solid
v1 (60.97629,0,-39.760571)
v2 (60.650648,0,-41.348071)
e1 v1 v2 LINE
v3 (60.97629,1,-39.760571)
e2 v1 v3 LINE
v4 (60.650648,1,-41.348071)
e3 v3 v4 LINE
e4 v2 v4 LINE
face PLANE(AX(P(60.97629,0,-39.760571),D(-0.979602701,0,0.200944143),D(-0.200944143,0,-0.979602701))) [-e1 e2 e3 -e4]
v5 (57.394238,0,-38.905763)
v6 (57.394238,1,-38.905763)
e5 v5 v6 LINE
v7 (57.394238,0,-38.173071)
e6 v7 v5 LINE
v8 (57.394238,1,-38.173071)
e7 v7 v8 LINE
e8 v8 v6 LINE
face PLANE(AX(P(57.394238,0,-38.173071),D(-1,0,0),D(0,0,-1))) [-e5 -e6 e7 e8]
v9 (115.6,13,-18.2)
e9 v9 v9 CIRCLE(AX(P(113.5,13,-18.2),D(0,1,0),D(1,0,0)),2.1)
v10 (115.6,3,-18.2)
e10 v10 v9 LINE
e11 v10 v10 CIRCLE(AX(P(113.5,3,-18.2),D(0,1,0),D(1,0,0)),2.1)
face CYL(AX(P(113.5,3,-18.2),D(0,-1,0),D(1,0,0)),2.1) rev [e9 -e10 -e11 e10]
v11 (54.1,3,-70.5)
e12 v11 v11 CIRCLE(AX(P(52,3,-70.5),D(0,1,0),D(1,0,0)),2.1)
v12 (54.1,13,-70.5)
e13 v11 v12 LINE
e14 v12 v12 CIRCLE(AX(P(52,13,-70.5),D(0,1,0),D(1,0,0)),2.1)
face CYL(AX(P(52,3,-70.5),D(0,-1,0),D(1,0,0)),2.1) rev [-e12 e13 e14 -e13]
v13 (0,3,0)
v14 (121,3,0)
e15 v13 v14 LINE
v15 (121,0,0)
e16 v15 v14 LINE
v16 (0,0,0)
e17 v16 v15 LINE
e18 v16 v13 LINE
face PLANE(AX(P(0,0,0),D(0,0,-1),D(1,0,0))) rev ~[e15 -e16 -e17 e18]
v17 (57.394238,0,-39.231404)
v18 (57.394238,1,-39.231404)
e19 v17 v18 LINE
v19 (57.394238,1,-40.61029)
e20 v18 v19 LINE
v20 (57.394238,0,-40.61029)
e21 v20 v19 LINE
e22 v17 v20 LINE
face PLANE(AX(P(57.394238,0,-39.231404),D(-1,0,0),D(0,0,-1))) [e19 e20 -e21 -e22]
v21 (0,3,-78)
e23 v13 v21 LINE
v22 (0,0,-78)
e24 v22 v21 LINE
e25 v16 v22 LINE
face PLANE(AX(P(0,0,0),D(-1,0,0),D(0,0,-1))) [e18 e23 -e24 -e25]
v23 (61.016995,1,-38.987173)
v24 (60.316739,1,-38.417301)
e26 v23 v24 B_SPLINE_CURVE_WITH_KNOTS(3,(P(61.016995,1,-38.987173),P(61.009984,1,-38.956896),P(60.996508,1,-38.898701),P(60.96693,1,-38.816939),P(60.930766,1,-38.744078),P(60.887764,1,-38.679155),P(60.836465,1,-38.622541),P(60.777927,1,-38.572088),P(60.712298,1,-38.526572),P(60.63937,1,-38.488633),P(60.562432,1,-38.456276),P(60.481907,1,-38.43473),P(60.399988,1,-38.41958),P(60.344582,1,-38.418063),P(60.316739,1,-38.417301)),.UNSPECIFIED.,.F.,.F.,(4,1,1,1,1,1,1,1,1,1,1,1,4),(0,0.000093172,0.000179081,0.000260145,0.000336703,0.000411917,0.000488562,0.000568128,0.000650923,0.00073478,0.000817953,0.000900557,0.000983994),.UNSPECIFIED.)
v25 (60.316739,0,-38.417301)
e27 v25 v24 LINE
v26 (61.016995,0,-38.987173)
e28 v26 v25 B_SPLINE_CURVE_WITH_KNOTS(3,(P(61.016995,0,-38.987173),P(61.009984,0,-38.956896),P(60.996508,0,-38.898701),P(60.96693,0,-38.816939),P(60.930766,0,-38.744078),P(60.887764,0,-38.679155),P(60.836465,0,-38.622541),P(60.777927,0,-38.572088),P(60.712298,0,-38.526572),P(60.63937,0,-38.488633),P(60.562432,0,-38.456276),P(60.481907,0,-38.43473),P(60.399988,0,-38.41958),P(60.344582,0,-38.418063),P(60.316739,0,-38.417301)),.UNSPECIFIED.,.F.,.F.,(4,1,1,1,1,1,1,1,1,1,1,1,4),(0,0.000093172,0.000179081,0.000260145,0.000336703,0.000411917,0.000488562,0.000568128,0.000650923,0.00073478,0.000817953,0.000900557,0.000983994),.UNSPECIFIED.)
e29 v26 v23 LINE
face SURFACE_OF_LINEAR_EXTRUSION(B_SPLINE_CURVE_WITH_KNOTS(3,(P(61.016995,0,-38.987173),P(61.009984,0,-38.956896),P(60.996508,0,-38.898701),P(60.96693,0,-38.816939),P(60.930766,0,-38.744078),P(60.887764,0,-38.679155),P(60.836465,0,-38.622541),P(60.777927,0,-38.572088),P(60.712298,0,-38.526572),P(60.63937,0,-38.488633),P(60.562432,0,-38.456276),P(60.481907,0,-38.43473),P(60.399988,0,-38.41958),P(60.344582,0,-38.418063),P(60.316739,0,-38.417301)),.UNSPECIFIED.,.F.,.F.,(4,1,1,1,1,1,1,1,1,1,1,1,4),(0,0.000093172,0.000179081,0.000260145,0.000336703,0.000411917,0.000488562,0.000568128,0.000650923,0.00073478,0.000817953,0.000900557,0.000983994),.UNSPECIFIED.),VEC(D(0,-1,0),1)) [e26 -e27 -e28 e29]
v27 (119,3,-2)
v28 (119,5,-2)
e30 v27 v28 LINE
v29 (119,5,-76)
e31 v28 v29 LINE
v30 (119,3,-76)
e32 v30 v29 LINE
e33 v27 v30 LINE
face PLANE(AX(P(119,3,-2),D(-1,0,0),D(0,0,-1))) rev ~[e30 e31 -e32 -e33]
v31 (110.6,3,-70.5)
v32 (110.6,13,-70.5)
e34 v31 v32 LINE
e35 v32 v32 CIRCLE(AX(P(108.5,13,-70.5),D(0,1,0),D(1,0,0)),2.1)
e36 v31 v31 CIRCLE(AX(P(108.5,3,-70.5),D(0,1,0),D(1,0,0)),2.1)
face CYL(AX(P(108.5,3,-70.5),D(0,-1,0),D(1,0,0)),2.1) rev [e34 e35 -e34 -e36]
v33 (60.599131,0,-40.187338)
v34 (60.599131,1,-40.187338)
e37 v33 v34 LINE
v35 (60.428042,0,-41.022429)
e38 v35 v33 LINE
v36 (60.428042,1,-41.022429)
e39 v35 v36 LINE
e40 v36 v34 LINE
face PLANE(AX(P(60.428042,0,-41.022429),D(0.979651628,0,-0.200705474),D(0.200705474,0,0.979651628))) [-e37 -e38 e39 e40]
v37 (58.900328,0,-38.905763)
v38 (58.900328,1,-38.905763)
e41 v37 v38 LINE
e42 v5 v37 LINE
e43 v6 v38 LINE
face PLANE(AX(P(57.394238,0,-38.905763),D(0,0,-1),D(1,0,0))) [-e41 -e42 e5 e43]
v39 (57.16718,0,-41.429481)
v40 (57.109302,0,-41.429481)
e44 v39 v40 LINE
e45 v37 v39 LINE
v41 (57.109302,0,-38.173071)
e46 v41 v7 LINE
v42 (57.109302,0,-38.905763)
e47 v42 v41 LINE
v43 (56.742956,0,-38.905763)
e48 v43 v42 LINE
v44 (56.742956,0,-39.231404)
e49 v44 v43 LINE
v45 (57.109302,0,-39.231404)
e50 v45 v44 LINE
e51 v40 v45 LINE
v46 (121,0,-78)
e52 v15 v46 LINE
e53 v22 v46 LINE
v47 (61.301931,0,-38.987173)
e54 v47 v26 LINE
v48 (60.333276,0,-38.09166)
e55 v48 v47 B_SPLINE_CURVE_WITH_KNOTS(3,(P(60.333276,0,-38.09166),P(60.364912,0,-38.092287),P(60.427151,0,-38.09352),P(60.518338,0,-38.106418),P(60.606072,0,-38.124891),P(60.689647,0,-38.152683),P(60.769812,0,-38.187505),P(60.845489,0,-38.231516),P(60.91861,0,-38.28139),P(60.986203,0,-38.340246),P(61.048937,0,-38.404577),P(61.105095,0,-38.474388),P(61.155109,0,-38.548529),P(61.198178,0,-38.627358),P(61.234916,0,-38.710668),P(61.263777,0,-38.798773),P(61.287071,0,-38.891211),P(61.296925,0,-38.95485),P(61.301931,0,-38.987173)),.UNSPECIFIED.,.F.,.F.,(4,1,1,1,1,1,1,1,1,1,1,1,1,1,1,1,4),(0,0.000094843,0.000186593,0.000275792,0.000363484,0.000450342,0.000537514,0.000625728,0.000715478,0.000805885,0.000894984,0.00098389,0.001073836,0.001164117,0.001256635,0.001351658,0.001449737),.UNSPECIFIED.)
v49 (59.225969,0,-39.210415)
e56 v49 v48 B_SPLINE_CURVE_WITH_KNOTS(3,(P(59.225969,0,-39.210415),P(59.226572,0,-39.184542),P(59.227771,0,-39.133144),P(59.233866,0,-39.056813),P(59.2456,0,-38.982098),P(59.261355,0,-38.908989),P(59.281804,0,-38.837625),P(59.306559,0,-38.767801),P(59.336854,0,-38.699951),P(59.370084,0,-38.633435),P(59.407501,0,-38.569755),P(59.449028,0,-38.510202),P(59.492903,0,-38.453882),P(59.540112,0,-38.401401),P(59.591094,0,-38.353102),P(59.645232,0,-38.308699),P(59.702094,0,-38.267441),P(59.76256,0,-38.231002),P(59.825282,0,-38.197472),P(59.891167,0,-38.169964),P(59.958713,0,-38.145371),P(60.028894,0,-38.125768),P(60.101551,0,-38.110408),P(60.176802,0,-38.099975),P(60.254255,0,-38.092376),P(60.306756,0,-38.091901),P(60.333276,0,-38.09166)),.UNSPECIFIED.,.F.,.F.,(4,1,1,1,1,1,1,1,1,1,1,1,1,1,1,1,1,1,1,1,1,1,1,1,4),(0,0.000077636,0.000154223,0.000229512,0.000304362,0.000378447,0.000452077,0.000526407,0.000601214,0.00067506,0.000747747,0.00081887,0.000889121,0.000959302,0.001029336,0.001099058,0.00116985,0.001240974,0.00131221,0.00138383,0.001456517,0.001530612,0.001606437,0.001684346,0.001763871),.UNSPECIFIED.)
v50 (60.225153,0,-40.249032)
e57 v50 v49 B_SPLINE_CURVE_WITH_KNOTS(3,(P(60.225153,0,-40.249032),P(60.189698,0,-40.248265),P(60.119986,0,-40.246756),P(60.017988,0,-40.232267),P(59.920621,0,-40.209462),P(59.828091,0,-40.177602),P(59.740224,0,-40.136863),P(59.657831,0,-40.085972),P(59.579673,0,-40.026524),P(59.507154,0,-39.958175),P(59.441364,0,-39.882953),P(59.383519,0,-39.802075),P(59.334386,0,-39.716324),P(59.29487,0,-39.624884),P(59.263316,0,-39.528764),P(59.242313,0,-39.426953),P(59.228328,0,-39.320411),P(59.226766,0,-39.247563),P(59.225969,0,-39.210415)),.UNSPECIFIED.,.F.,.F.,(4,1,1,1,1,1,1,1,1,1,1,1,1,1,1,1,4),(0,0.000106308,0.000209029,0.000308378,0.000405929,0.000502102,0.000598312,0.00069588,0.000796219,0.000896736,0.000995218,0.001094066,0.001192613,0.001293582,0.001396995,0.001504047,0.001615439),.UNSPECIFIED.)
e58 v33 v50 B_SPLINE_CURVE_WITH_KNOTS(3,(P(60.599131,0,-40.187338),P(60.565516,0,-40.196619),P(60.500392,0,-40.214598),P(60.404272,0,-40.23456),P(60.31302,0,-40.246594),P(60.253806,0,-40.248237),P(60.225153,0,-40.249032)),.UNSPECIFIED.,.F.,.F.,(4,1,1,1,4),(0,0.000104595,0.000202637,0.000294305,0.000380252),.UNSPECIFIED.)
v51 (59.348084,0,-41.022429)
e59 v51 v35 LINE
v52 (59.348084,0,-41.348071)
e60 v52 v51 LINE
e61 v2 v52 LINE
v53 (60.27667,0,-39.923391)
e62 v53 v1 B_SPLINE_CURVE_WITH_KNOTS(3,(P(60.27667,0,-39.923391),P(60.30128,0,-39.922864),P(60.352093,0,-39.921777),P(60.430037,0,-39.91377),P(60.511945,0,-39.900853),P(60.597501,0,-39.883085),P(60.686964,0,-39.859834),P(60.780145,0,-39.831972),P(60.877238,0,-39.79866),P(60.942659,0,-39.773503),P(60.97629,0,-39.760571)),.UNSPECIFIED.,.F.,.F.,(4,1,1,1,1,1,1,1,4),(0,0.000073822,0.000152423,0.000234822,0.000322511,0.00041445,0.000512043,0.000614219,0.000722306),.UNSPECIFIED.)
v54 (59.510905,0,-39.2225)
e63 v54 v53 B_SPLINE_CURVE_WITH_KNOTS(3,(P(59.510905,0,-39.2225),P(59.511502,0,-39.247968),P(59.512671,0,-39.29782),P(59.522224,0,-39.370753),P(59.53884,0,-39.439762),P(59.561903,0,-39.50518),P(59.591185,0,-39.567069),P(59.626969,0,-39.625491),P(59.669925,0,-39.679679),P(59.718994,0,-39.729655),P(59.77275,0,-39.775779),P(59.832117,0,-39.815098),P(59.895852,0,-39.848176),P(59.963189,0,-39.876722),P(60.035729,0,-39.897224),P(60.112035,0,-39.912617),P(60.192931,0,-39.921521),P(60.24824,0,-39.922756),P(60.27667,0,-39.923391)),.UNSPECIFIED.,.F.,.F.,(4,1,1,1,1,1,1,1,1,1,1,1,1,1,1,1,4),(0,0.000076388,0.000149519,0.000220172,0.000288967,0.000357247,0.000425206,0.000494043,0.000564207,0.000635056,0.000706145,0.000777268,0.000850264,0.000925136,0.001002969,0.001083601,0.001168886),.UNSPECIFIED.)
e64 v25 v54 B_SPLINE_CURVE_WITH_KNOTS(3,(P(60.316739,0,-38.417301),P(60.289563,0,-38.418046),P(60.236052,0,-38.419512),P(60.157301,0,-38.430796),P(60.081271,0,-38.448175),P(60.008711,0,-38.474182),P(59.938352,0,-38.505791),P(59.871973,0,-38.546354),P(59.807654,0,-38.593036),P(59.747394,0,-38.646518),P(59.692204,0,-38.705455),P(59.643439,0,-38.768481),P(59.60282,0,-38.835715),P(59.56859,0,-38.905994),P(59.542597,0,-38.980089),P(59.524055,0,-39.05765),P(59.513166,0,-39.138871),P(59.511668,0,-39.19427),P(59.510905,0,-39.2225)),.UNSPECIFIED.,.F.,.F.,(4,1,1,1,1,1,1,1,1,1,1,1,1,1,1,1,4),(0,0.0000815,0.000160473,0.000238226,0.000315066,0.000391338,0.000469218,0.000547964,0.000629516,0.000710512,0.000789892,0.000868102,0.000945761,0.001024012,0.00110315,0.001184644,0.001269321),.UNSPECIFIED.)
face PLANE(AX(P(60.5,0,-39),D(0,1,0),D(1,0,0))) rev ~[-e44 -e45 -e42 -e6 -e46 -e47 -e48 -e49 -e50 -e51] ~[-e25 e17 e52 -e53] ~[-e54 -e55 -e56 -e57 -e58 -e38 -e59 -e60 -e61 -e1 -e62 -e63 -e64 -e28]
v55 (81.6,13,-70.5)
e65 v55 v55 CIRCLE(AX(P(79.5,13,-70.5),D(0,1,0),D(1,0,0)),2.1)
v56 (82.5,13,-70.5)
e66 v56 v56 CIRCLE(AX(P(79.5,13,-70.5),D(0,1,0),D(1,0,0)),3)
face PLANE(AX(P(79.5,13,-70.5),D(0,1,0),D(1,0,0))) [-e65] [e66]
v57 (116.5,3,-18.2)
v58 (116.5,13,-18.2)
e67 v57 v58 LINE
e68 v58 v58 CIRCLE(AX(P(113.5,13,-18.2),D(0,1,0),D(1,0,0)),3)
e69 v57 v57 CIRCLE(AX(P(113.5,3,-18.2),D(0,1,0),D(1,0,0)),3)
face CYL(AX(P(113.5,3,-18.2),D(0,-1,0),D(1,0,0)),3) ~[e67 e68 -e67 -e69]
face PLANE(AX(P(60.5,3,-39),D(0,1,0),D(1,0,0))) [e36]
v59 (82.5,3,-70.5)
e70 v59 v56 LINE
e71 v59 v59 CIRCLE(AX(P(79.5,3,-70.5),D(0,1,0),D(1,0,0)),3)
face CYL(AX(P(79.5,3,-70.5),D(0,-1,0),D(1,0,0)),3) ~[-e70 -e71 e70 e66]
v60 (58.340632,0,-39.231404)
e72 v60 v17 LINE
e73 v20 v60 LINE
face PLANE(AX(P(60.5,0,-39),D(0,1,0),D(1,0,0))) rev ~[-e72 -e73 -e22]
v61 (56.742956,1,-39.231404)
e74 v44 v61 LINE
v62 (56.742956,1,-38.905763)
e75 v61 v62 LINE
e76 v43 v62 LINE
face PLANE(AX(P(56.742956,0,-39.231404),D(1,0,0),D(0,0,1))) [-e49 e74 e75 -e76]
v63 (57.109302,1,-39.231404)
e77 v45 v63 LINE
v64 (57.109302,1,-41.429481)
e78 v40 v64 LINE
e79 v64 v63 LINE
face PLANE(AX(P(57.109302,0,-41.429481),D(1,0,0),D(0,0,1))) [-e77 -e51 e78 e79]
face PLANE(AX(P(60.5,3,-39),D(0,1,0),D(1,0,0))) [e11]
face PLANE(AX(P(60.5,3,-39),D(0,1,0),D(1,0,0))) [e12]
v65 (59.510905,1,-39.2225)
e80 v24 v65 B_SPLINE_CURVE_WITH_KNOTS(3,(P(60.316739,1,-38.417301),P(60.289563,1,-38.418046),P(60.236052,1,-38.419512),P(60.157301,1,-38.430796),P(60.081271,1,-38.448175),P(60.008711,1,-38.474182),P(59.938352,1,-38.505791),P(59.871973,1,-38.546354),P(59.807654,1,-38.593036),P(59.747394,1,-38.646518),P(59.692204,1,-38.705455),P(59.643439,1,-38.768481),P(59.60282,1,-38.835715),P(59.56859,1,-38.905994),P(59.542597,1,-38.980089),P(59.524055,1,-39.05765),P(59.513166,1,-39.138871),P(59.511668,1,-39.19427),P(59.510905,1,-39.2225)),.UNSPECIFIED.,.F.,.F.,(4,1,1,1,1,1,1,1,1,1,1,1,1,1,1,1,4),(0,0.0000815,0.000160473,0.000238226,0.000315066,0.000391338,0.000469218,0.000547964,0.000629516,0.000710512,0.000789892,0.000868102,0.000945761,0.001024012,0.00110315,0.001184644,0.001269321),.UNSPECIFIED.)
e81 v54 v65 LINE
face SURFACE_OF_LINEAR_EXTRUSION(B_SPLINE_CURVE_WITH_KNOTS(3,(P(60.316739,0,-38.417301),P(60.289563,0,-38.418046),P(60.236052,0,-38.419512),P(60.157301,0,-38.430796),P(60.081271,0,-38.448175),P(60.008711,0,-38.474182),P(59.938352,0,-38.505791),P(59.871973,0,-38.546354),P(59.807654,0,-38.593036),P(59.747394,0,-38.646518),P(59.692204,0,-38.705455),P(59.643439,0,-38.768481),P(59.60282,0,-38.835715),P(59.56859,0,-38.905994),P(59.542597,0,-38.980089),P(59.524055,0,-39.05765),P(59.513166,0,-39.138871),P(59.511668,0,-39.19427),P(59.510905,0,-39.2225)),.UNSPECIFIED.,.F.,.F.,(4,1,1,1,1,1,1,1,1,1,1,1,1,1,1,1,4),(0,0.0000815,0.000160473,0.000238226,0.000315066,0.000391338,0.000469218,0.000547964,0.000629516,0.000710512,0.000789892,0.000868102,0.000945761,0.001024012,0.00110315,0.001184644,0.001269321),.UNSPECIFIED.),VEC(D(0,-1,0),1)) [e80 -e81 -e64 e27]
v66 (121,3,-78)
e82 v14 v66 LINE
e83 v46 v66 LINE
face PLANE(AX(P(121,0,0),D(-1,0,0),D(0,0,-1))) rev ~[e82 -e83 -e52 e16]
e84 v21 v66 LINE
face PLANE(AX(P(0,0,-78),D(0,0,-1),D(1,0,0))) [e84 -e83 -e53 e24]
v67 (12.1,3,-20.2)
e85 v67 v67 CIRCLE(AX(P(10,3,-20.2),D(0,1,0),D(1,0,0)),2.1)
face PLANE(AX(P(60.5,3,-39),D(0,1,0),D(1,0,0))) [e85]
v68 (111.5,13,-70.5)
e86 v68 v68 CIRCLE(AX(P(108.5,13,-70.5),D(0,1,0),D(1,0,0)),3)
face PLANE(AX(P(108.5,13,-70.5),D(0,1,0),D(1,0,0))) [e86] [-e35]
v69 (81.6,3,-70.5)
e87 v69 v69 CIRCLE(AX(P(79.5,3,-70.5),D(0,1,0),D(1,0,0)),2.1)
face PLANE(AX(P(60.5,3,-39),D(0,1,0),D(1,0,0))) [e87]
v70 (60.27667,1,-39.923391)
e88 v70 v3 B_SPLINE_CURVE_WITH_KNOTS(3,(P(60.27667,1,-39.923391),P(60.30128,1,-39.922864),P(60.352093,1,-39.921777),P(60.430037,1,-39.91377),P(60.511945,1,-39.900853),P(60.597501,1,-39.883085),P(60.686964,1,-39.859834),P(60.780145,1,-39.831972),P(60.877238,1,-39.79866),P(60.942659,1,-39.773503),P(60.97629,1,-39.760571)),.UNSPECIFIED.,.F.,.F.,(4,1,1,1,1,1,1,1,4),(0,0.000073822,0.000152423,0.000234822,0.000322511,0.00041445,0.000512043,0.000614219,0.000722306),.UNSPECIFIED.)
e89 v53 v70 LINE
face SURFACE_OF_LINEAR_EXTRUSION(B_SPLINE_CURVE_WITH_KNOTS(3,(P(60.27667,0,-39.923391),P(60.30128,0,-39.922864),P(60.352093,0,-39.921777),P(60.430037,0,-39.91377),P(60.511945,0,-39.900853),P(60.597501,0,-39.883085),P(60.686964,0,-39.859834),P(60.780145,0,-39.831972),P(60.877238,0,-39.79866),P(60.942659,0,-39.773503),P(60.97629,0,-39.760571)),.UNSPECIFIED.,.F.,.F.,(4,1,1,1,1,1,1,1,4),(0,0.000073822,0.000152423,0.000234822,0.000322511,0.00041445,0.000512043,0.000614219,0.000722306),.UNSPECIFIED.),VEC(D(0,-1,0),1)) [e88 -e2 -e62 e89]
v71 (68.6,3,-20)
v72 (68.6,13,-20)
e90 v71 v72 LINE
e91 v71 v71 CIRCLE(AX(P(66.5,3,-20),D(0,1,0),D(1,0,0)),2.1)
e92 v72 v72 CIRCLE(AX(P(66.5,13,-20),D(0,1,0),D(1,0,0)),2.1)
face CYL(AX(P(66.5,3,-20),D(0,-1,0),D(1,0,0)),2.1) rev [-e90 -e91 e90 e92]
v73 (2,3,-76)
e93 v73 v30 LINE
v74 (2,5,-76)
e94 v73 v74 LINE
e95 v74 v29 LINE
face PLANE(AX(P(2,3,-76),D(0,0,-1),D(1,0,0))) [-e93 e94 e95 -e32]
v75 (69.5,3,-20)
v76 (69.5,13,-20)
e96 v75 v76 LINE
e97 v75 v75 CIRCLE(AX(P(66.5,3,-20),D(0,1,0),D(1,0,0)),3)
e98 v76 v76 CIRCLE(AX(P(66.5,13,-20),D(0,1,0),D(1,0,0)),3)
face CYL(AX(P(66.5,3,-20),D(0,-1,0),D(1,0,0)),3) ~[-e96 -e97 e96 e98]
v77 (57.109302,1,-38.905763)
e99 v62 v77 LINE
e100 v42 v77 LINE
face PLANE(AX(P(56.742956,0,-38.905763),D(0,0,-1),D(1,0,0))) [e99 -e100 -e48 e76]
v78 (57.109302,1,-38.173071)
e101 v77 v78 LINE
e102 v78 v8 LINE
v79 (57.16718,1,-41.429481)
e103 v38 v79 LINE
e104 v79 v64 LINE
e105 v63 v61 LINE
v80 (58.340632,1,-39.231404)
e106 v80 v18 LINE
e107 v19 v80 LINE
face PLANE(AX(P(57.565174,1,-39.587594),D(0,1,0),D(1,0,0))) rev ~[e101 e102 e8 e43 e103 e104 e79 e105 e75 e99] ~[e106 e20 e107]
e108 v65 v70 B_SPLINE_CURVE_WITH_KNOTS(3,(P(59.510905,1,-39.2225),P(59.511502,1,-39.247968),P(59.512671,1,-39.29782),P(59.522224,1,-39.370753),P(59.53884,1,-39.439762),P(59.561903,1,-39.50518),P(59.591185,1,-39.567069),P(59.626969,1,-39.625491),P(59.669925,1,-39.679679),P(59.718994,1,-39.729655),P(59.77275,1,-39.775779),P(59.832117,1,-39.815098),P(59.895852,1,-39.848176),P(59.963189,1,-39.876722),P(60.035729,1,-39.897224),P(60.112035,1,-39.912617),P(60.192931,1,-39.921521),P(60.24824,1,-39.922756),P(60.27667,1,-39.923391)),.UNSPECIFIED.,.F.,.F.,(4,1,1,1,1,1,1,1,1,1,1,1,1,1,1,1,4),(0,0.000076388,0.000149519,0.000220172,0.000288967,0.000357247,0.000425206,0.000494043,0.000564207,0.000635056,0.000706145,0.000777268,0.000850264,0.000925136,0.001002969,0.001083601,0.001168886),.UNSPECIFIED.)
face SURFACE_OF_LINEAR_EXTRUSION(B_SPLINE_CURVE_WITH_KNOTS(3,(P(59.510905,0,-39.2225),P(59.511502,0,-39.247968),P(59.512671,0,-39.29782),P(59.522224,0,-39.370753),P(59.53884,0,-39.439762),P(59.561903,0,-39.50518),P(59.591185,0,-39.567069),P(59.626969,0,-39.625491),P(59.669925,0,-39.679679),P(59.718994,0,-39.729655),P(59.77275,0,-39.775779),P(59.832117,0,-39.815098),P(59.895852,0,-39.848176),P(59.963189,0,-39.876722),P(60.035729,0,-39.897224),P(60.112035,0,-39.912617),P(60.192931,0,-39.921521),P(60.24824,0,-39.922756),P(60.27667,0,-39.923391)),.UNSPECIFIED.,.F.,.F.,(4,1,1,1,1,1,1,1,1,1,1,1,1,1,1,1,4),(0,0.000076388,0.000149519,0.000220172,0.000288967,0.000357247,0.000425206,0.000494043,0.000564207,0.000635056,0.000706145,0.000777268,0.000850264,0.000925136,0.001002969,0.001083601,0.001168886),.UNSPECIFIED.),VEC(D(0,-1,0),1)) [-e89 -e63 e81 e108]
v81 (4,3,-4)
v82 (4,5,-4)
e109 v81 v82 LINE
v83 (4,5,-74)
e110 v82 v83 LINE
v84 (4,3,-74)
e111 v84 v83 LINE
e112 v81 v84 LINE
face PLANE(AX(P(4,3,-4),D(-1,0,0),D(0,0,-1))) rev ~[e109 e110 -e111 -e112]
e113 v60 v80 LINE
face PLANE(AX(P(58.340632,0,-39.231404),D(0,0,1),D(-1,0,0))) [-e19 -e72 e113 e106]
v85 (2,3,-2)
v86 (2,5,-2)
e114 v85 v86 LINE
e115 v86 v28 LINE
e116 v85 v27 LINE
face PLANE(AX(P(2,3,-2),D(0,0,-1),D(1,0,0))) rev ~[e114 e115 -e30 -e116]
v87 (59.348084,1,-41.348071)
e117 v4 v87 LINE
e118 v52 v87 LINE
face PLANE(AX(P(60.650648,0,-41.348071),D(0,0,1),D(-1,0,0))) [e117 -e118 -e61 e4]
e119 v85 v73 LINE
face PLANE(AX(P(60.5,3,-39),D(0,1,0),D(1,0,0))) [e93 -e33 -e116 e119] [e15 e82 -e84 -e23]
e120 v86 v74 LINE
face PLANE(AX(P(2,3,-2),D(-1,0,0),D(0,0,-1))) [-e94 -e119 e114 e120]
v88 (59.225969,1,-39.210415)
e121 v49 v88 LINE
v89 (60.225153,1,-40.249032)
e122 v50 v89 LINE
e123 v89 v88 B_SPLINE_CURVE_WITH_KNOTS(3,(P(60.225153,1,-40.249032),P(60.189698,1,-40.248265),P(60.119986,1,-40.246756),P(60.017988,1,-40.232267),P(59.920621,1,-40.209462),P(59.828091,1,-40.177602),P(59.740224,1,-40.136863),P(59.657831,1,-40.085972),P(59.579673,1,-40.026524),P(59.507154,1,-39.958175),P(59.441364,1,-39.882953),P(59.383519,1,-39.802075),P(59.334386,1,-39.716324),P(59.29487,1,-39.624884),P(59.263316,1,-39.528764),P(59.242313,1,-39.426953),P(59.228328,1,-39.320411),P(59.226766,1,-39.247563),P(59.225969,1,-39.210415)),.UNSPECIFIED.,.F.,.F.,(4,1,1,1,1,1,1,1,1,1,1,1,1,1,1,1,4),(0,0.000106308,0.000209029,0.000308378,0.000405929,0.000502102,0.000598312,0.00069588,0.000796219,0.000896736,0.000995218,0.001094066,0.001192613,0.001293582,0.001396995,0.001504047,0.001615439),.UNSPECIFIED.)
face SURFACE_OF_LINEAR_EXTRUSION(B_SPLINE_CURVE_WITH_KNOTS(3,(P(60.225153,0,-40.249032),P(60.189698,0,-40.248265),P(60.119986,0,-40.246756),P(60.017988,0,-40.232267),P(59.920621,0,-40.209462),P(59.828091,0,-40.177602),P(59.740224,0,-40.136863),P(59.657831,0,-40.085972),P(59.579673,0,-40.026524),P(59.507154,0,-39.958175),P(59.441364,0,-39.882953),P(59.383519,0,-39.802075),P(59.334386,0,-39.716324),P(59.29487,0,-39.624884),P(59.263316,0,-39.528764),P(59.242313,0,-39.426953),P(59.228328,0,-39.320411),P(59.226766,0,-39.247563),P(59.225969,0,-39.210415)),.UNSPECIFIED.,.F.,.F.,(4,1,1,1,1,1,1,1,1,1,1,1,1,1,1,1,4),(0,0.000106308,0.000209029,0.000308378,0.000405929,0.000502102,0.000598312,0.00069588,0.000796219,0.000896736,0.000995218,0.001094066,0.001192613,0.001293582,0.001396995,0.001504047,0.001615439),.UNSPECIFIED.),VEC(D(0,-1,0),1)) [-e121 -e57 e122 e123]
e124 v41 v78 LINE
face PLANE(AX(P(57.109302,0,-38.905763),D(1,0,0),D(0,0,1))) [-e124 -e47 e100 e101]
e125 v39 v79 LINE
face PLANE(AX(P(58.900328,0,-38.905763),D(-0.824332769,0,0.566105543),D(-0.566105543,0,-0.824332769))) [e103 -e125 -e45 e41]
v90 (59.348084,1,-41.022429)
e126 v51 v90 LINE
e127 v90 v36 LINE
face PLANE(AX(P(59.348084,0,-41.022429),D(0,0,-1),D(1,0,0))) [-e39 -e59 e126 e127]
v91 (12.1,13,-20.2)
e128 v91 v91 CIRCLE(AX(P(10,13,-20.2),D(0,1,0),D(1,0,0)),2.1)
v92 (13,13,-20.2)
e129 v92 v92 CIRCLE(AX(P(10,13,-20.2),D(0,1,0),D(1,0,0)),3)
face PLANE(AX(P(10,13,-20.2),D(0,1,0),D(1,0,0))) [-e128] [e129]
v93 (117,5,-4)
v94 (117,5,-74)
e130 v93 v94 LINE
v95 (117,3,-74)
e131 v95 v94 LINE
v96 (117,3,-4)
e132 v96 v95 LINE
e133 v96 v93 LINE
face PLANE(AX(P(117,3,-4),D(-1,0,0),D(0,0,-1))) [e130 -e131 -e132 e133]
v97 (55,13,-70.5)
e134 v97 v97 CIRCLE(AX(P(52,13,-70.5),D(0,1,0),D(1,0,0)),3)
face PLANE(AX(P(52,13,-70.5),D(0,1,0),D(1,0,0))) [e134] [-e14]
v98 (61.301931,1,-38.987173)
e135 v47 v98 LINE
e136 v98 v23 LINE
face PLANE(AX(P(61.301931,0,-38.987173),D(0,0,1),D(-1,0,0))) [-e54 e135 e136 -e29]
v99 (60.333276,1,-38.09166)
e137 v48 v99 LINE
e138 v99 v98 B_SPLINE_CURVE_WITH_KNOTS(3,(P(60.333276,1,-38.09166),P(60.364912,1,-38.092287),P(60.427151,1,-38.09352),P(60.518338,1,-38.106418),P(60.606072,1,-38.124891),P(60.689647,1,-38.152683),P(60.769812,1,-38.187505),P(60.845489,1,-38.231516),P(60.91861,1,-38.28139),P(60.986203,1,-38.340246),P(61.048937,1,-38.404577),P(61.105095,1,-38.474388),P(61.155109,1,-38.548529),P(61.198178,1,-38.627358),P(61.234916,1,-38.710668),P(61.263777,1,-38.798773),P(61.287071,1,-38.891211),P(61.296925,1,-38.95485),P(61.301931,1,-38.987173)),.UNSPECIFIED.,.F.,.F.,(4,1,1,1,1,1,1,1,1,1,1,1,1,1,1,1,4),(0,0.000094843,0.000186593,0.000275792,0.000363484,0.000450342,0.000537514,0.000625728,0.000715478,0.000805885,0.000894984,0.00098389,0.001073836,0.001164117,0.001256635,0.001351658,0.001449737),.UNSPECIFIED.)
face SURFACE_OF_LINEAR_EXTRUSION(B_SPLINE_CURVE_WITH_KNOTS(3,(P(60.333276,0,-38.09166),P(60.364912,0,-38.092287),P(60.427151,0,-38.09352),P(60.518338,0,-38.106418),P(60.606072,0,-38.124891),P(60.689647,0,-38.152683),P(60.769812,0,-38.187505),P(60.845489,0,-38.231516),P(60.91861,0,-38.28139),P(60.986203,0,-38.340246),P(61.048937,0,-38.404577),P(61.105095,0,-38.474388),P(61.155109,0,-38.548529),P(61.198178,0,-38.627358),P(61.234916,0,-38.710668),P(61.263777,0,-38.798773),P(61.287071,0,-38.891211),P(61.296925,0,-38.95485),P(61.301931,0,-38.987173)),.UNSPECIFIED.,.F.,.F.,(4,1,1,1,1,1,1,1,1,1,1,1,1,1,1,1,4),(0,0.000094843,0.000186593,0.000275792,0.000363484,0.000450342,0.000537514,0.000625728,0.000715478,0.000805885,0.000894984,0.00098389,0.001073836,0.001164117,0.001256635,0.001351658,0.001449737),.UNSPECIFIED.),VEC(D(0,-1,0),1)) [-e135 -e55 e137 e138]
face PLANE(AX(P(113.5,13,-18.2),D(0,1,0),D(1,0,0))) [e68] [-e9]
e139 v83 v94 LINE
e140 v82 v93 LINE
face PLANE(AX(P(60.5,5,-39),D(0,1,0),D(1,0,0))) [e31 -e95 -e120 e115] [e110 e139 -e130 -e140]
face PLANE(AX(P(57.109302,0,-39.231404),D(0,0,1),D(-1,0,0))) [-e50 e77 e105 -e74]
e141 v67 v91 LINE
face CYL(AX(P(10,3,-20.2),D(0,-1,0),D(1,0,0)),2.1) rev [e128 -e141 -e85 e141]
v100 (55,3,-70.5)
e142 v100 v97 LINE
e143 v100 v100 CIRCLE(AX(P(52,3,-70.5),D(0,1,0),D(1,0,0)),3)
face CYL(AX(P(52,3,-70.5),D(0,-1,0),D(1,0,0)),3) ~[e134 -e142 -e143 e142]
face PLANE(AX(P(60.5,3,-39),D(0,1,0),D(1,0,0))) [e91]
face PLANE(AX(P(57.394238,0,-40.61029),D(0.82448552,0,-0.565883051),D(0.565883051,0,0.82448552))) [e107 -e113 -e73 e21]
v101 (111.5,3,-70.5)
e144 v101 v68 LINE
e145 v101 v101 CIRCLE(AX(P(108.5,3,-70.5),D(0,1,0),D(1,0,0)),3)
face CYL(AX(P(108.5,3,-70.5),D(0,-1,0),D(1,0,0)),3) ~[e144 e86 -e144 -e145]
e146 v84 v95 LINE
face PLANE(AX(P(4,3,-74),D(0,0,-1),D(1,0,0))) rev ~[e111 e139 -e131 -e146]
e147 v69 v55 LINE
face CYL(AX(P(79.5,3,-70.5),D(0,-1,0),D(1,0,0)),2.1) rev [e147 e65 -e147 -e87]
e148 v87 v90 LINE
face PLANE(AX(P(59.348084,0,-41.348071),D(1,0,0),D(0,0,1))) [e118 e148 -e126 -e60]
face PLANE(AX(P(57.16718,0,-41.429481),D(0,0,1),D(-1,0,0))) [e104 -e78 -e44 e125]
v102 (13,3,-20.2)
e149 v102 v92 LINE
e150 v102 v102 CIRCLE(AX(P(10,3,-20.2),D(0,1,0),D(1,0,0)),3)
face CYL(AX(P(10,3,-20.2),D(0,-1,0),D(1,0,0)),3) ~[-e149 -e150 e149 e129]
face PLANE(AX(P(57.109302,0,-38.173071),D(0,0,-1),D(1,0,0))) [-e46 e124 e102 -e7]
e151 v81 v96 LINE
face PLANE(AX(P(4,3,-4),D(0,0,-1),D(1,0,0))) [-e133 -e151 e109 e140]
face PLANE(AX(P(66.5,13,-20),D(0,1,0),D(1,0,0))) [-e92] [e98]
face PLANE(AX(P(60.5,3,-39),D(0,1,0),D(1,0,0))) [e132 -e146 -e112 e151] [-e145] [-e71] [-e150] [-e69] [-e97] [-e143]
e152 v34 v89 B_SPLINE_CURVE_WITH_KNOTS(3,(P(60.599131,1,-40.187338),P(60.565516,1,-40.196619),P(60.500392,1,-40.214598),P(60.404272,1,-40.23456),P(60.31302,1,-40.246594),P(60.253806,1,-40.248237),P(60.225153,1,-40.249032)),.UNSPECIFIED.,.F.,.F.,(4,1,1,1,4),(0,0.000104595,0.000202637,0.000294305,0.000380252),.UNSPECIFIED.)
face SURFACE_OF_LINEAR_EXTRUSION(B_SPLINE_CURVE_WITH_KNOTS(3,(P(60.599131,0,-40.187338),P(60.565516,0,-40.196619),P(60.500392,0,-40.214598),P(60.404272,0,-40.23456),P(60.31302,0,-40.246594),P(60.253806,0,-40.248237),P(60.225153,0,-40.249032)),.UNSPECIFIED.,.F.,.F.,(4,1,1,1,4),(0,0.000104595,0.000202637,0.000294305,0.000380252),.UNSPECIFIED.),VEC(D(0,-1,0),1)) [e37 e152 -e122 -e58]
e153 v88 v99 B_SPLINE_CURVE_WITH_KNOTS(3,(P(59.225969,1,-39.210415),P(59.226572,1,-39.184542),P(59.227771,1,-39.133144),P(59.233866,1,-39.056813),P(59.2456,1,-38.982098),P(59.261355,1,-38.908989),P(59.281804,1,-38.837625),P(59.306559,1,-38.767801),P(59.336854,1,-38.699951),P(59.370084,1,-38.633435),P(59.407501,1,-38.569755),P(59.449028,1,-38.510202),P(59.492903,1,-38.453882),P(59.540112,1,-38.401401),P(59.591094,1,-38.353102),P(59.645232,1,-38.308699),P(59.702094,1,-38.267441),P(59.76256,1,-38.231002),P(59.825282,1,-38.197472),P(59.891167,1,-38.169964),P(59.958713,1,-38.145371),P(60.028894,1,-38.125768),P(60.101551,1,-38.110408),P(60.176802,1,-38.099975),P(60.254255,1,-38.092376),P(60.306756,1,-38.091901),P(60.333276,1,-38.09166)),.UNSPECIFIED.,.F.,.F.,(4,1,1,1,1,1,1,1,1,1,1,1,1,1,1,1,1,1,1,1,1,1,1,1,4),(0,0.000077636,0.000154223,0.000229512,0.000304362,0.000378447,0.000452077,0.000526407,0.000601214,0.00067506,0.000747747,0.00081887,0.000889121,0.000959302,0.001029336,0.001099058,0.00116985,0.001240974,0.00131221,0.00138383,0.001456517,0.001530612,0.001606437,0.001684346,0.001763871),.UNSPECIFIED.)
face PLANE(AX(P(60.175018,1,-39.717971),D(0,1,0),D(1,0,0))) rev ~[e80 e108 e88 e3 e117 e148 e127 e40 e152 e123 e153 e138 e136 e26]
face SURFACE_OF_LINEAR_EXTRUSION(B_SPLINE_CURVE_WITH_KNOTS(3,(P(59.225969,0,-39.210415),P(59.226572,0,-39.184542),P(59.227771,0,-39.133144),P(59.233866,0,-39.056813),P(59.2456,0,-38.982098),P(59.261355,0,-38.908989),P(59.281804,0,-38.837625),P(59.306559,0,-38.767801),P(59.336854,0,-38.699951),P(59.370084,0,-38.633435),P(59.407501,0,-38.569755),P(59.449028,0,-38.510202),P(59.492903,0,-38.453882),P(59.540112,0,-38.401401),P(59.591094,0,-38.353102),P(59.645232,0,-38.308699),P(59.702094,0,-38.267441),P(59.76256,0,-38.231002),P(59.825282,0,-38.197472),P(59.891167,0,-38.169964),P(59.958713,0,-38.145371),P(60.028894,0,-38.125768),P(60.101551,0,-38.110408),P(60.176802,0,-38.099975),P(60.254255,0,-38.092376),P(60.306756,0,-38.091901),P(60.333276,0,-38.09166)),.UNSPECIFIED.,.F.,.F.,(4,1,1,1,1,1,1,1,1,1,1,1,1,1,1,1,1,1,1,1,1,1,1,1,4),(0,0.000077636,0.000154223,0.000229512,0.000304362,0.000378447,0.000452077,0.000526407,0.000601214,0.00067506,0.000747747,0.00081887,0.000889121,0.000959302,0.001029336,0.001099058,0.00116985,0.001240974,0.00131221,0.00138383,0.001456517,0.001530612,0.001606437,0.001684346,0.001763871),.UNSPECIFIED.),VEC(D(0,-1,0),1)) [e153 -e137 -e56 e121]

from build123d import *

# Parameters (mm, degrees)
SKETCH6_W            = 121
SKETCH6_H            = 78
BOSS_EXTRUDE9_DEPTH  = 3
SKETCH14_W           = 117
SKETCH14_H           = 74
SKETCH14_W_2         = 113
SKETCH14_H_2         = 70
BOSS_EXTRUDE11_DEPTH = 2
SKETCH16_R           = 3
SKETCH16_R_2         = 2.1
BOSS_EXTRUDE12_DEPTH = 10
SKETCH17_R           = 3
SKETCH17_R_2         = 2.1
BOSS_EXTRUDE13_DEPTH = 10
SKETCH18_R           = 3
SKETCH18_R_2         = 2.1
BOSS_EXTRUDE14_DEPTH = 10
SKETCH19_R           = 3
SKETCH19_R_2         = 2.1
BOSS_EXTRUDE15_DEPTH = 10
SKETCH20_R           = 3
SKETCH20_R_2         = 2.1
BOSS_EXTRUDE16_DEPTH = 10
SKETCH21_R           = 3
SKETCH21_R_2         = 2.1
BOSS_EXTRUDE17_DEPTH = 10
CUT_EXTRUDE2_DEPTH   = 1


with BuildPart() as part:
    # Sketch6 → Boss-Extrude9 (new body)
    with BuildSketch(Plane(origin=(0, 0, 0), x_dir=(1, 0, 0), z_dir=(0, 1, 0))):
        with Locations((60.5, 39)):
            Rectangle(SKETCH6_W, SKETCH6_H)
    extrude(amount=BOSS_EXTRUDE9_DEPTH)

    # Sketch14 → Boss-Extrude11 (add)
    with BuildSketch(Plane(origin=(0, 3, 0), x_dir=(1, 0, 0), z_dir=(0, 1, 0))):
        with Locations((60.5, 39)):
            Rectangle(SKETCH14_W, SKETCH14_H)
        with Locations((60.5, 39)):
            Rectangle(SKETCH14_W_2, SKETCH14_H_2, mode=Mode.SUBTRACT)
    extrude(amount=BOSS_EXTRUDE11_DEPTH)

    # Sketch16 → Boss-Extrude12 (add)
    with BuildSketch(Plane(origin=(0, 3, 0), x_dir=(1, 0, 0), z_dir=(0, 1, 0))):
        with Locations((52, 70.5)):
            Circle(SKETCH16_R)
        with Locations((52, 70.5)):
            Circle(SKETCH16_R_2, mode=Mode.SUBTRACT)
    extrude(amount=BOSS_EXTRUDE12_DEPTH)

    # Sketch17 → Boss-Extrude13 (add)
    with BuildSketch(Plane(origin=(0, 3, 0), x_dir=(1, 0, 0), z_dir=(0, 1, 0))):
        with Locations((108.5, 70.5)):
            Circle(SKETCH17_R)
        with Locations((108.5, 70.5)):
            Circle(SKETCH17_R_2, mode=Mode.SUBTRACT)
    extrude(amount=BOSS_EXTRUDE13_DEPTH)

    # Sketch18 → Boss-Extrude14 (add)
    with BuildSketch(Plane(origin=(0, 3, 0), x_dir=(1, 0, 0), z_dir=(0, 1, 0))):
        with Locations((79.5, 70.5)):
            Circle(SKETCH18_R)
        with Locations((79.5, 70.5)):
            Circle(SKETCH18_R_2, mode=Mode.SUBTRACT)
    extrude(amount=BOSS_EXTRUDE14_DEPTH)

    # Sketch19 → Boss-Extrude15 (add)
    with BuildSketch(Plane(origin=(0, 3, 0), x_dir=(1, 0, 0), z_dir=(0, 1, 0))):
        with Locations((10, 20.2)):
            Circle(SKETCH19_R)
        with Locations((10, 20.2)):
            Circle(SKETCH19_R_2, mode=Mode.SUBTRACT)
    extrude(amount=BOSS_EXTRUDE15_DEPTH)

    # Sketch20 → Boss-Extrude16 (add)
    with BuildSketch(Plane(origin=(0, 3, 0), x_dir=(1, 0, 0), z_dir=(0, 1, 0))):
        with Locations((113.5, 18.2)):
            Circle(SKETCH20_R)
        with Locations((113.5, 18.2)):
            Circle(SKETCH20_R_2, mode=Mode.SUBTRACT)
    extrude(amount=BOSS_EXTRUDE16_DEPTH)

    # Sketch21 → Boss-Extrude17 (add)
    with BuildSketch(Plane(origin=(0, 3, 0), x_dir=(1, 0, 0), z_dir=(0, 1, 0))):
        with Locations((66.5, 20)):
            Circle(SKETCH21_R)
        with Locations((66.5, 20)):
            Circle(SKETCH21_R_2, mode=Mode.SUBTRACT)
    extrude(amount=BOSS_EXTRUDE17_DEPTH)

    # Sketch22 → Cut-Extrude2 (cut)
    with BuildSketch(Plane(origin=(0, 0, 0), x_dir=(-1, 0, 0), z_dir=(0, -1, 0))):
        with BuildLine():
            Line((-59.348084392, 41.348070521), (-59.348084392, 41.022429495))
            Line((-59.348084392, 41.022429495), (-60.428042325, 41.022429495))
            Line((-60.428042325, 41.022429495), (-60.599131067, 40.187338349))
            add(Edge.make_bspline(
                [(-60.599131067, 40.187338349), (-60.565516095, 40.196618667), (-60.500392404, 40.214597816), (-60.404271673, 40.234560193), (-60.313020174, 40.246593846), (-60.253806088, 40.248236963), (-60.225152702, 40.249032059)],
                knots=[0, 0, 0, 0, 0.000104595, 0.000202637, 0.000294305, 0.000380252, 0.000380252, 0.000380252, 0.000380252], degree=3))
            add(Edge.make_bspline(
                [(-60.225152702, 40.249032059), (-60.189698166, 40.248264675), (-60.119985692, 40.246755805), (-60.017987504, 40.232267056), (-59.920621236, 40.209461562), (-59.828090515, 40.177602232), (-59.740224158, 40.136862688), (-59.657830585, 40.085972028), (-59.579673049, 40.026523934), (-59.507153696, 39.958175245), (-59.441363788, 39.882953493), (-59.383518926, 39.802074567), (-59.334385719, 39.716324473), (-59.294869892, 39.624883921), (-59.263315531, 39.528763832), (-59.242313364, 39.426952846), (-59.228328207, 39.320410623), (-59.226765757, 39.247562906), (-59.225969008, 39.210415273)],
                knots=[0, 0, 0, 0, 0.000106308, 0.000209029, 0.000308378, 0.000405929, 0.000502102, 0.000598312, 0.00069588, 0.000796219, 0.000896736, 0.000995218, 0.001094066, 0.001192613, 0.001293582, 0.001396995, 0.001504047, 0.001615439, 0.001615439, 0.001615439, 0.001615439], degree=3))
            add(Edge.make_bspline(
                [(-59.225969008, 39.210415273), (-59.226572326, 39.184541544), (-59.227770809, 39.133143748), (-59.233865528, 39.056812938), (-59.24560007, 38.982098082), (-59.261355077, 38.908989269), (-59.281804271, 38.83762491), (-59.306559341, 38.767800738), (-59.336854309, 38.699951345), (-59.370084199, 38.633434737), (-59.407500647, 38.569754662), (-59.449028293, 38.510201653), (-59.492902703, 38.453882341), (-59.540111674, 38.40140074), (-59.591094005, 38.353101717), (-59.645232261, 38.308698633), (-59.702094442, 38.267440569), (-59.762560269, 38.231002278), (-59.825282378, 38.197471596), (-59.891166547, 38.169963816), (-59.958713039, 38.145370694), (-60.028894034, 38.125767765), (-60.101550564, 38.110407519), (-60.176802396, 38.099974831), (-60.254254861, 38.092376206), (-60.306755765, 38.091900539), (-60.333275698, 38.091660265)],
                knots=[0, 0, 0, 0, 7.7636e-05, 0.000154223, 0.000229512, 0.000304362, 0.000378447, 0.000452077, 0.000526407, 0.000601214, 0.00067506, 0.000747747, 0.00081887, 0.000889121, 0.000959302, 0.001029336, 0.001099058, 0.00116985, 0.001240974, 0.00131221, 0.00138383, 0.001456517, 0.001530612, 0.001606437, 0.001684346, 0.001763871, 0.001763871, 0.001763871, 0.001763871], degree=3))
            add(Edge.make_bspline(
                [(-60.333275698, 38.091660265), (-60.364911562, 38.092286953), (-60.427151387, 38.093519889), (-60.518337902, 38.106418087), (-60.606071865, 38.124891068), (-60.689647029, 38.152682541), (-60.769812389, 38.187505301), (-60.845488712, 38.2315164), (-60.918609666, 38.281390301), (-60.986202728, 38.34024605), (-61.048937202, 38.404576704), (-61.105095249, 38.474388279), (-61.15510928, 38.548528558), (-61.198178379, 38.627357598), (-61.23491587, 38.710668266), (-61.263776609, 38.798772702), (-61.287070545, 38.891210563), (-61.296925219, 38.954849819), (-61.301930546, 38.987173085)],
                knots=[0, 0, 0, 0, 9.4843e-05, 0.000186593, 0.000275792, 0.000363484, 0.000450342, 0.000537514, 0.000625728, 0.000715478, 0.000805885, 0.000894984, 0.00098389, 0.001073836, 0.001164117, 0.001256635, 0.001351658, 0.001449737, 0.001449737, 0.001449737, 0.001449737], degree=3))
            Line((-61.301930546, 38.987173085), (-61.016994649, 38.987173085))
            add(Edge.make_bspline(
                [(-61.016994649, 38.987173085), (-61.009983743, 38.956895875), (-60.996508393, 38.898701395), (-60.966930321, 38.816939392), (-60.930766277, 38.744078382), (-60.887763761, 38.679154546), (-60.836464805, 38.62254067), (-60.777927394, 38.57208805), (-60.712297674, 38.526572039), (-60.63936953, 38.488632815), (-60.562431951, 38.45627616), (-60.48190741, 38.43472998), (-60.399988467, 38.419579884), (-60.34458166, 38.418063358), (-60.31673924, 38.41730129)],
                knots=[0, 0, 0, 0, 9.3172e-05, 0.000179081, 0.000260145, 0.000336703, 0.000411917, 0.000488562, 0.000568128, 0.000650923, 0.00073478, 0.000817953, 0.000900557, 0.000983994, 0.000983994, 0.000983994, 0.000983994], degree=3))
            add(Edge.make_bspline(
                [(-60.31673924, 38.41730129), (-60.289562651, 38.418045853), (-60.236051725, 38.419511903), (-60.157301396, 38.430795864), (-60.081271146, 38.448174518), (-60.008711186, 38.474182172), (-59.93835179, 38.50579131), (-59.871972727, 38.546354271), (-59.807653688, 38.59303586), (-59.747393881, 38.646517945), (-59.692203809, 38.70545474), (-59.643439328, 38.768480661), (-59.602820271, 38.835715229), (-59.568590044, 38.905994446), (-59.542597408, 38.980088566), (-59.524054518, 39.057650346), (-59.513166029, 39.138871364), (-59.511668173, 39.194269952), (-59.510904905, 39.222499607)],
                knots=[0, 0, 0, 0, 8.15e-05, 0.000160473, 0.000238226, 0.000315066, 0.000391338, 0.000469218, 0.000547964, 0.000629516, 0.000710512, 0.000789892, 0.000868102, 0.000945761, 0.001024012, 0.00110315, 0.001184644, 0.001269321, 0.001269321, 0.001269321, 0.001269321], degree=3))
            add(Edge.make_bspline(
                [(-59.510904905, 39.222499607), (-59.51150224, 39.247968325), (-59.512671438, 39.297819716), (-59.52222417, 39.370753282), (-59.53884028, 39.439762399), (-59.561903372, 39.505180311), (-59.591185496, 39.567068719), (-59.626968937, 39.625491495), (-59.669925234, 39.679678615), (-59.718994304, 39.729655432), (-59.772749813, 39.775778997), (-59.832116636, 39.815098275), (-59.895852427, 39.848176258), (-59.963189278, 39.876722228), (-60.035728864, 39.897224333), (-60.112034667, 39.912616629), (-60.19293068, 39.921520565), (-60.248239805, 39.922755992), (-60.276670129, 39.923391034)],
                knots=[0, 0, 0, 0, 7.6388e-05, 0.000149519, 0.000220172, 0.000288967, 0.000357247, 0.000425206, 0.000494043, 0.000564207, 0.000635056, 0.000706145, 0.000777268, 0.000850264, 0.000925136, 0.001002969, 0.001083601, 0.001168886, 0.001168886, 0.001168886, 0.001168886], degree=3))
            add(Edge.make_bspline(
                [(-60.276670129, 39.923391034), (-60.301279943, 39.922864355), (-60.352092966, 39.921776896), (-60.430037244, 39.913770002), (-60.511944736, 39.900852928), (-60.597501457, 39.883085404), (-60.686964346, 39.859834355), (-60.78014461, 39.831971916), (-60.877238166, 39.798659817), (-60.942659245, 39.773502737), (-60.97628952, 39.760570521)],
                knots=[0, 0, 0, 0, 7.3822e-05, 0.000152423, 0.000234822, 0.000322511, 0.00041445, 0.000512043, 0.000614219, 0.000722306, 0.000722306, 0.000722306, 0.000722306], degree=3))
            Line((-60.97628952, 39.760570521), (-60.650648495, 41.348070521))
            Line((-60.650648495, 41.348070521), (-59.348084392, 41.348070521))
        make_face()
        Polygon((-57.167179945, 41.429480777), (-57.109302341, 41.429480777), (-57.109302341, 39.231403854), (-56.742956187, 39.231403854), (-56.742956187, 38.905762829), (-57.109302341, 38.905762829), (-57.109302341, 38.173070521), (-57.394238238, 38.173070521), (-57.394238238, 38.905762829), (-58.900327982, 38.905762829), align=None)
        Polygon((-57.394238238, 39.231403854), (-57.394238238, 40.610290072), (-58.340632469, 39.231403854), align=None, mode=Mode.SUBTRACT)
    extrude(amount=-CUT_EXTRUDE2_DEPTH, mode=Mode.SUBTRACT)


solid = part.part
